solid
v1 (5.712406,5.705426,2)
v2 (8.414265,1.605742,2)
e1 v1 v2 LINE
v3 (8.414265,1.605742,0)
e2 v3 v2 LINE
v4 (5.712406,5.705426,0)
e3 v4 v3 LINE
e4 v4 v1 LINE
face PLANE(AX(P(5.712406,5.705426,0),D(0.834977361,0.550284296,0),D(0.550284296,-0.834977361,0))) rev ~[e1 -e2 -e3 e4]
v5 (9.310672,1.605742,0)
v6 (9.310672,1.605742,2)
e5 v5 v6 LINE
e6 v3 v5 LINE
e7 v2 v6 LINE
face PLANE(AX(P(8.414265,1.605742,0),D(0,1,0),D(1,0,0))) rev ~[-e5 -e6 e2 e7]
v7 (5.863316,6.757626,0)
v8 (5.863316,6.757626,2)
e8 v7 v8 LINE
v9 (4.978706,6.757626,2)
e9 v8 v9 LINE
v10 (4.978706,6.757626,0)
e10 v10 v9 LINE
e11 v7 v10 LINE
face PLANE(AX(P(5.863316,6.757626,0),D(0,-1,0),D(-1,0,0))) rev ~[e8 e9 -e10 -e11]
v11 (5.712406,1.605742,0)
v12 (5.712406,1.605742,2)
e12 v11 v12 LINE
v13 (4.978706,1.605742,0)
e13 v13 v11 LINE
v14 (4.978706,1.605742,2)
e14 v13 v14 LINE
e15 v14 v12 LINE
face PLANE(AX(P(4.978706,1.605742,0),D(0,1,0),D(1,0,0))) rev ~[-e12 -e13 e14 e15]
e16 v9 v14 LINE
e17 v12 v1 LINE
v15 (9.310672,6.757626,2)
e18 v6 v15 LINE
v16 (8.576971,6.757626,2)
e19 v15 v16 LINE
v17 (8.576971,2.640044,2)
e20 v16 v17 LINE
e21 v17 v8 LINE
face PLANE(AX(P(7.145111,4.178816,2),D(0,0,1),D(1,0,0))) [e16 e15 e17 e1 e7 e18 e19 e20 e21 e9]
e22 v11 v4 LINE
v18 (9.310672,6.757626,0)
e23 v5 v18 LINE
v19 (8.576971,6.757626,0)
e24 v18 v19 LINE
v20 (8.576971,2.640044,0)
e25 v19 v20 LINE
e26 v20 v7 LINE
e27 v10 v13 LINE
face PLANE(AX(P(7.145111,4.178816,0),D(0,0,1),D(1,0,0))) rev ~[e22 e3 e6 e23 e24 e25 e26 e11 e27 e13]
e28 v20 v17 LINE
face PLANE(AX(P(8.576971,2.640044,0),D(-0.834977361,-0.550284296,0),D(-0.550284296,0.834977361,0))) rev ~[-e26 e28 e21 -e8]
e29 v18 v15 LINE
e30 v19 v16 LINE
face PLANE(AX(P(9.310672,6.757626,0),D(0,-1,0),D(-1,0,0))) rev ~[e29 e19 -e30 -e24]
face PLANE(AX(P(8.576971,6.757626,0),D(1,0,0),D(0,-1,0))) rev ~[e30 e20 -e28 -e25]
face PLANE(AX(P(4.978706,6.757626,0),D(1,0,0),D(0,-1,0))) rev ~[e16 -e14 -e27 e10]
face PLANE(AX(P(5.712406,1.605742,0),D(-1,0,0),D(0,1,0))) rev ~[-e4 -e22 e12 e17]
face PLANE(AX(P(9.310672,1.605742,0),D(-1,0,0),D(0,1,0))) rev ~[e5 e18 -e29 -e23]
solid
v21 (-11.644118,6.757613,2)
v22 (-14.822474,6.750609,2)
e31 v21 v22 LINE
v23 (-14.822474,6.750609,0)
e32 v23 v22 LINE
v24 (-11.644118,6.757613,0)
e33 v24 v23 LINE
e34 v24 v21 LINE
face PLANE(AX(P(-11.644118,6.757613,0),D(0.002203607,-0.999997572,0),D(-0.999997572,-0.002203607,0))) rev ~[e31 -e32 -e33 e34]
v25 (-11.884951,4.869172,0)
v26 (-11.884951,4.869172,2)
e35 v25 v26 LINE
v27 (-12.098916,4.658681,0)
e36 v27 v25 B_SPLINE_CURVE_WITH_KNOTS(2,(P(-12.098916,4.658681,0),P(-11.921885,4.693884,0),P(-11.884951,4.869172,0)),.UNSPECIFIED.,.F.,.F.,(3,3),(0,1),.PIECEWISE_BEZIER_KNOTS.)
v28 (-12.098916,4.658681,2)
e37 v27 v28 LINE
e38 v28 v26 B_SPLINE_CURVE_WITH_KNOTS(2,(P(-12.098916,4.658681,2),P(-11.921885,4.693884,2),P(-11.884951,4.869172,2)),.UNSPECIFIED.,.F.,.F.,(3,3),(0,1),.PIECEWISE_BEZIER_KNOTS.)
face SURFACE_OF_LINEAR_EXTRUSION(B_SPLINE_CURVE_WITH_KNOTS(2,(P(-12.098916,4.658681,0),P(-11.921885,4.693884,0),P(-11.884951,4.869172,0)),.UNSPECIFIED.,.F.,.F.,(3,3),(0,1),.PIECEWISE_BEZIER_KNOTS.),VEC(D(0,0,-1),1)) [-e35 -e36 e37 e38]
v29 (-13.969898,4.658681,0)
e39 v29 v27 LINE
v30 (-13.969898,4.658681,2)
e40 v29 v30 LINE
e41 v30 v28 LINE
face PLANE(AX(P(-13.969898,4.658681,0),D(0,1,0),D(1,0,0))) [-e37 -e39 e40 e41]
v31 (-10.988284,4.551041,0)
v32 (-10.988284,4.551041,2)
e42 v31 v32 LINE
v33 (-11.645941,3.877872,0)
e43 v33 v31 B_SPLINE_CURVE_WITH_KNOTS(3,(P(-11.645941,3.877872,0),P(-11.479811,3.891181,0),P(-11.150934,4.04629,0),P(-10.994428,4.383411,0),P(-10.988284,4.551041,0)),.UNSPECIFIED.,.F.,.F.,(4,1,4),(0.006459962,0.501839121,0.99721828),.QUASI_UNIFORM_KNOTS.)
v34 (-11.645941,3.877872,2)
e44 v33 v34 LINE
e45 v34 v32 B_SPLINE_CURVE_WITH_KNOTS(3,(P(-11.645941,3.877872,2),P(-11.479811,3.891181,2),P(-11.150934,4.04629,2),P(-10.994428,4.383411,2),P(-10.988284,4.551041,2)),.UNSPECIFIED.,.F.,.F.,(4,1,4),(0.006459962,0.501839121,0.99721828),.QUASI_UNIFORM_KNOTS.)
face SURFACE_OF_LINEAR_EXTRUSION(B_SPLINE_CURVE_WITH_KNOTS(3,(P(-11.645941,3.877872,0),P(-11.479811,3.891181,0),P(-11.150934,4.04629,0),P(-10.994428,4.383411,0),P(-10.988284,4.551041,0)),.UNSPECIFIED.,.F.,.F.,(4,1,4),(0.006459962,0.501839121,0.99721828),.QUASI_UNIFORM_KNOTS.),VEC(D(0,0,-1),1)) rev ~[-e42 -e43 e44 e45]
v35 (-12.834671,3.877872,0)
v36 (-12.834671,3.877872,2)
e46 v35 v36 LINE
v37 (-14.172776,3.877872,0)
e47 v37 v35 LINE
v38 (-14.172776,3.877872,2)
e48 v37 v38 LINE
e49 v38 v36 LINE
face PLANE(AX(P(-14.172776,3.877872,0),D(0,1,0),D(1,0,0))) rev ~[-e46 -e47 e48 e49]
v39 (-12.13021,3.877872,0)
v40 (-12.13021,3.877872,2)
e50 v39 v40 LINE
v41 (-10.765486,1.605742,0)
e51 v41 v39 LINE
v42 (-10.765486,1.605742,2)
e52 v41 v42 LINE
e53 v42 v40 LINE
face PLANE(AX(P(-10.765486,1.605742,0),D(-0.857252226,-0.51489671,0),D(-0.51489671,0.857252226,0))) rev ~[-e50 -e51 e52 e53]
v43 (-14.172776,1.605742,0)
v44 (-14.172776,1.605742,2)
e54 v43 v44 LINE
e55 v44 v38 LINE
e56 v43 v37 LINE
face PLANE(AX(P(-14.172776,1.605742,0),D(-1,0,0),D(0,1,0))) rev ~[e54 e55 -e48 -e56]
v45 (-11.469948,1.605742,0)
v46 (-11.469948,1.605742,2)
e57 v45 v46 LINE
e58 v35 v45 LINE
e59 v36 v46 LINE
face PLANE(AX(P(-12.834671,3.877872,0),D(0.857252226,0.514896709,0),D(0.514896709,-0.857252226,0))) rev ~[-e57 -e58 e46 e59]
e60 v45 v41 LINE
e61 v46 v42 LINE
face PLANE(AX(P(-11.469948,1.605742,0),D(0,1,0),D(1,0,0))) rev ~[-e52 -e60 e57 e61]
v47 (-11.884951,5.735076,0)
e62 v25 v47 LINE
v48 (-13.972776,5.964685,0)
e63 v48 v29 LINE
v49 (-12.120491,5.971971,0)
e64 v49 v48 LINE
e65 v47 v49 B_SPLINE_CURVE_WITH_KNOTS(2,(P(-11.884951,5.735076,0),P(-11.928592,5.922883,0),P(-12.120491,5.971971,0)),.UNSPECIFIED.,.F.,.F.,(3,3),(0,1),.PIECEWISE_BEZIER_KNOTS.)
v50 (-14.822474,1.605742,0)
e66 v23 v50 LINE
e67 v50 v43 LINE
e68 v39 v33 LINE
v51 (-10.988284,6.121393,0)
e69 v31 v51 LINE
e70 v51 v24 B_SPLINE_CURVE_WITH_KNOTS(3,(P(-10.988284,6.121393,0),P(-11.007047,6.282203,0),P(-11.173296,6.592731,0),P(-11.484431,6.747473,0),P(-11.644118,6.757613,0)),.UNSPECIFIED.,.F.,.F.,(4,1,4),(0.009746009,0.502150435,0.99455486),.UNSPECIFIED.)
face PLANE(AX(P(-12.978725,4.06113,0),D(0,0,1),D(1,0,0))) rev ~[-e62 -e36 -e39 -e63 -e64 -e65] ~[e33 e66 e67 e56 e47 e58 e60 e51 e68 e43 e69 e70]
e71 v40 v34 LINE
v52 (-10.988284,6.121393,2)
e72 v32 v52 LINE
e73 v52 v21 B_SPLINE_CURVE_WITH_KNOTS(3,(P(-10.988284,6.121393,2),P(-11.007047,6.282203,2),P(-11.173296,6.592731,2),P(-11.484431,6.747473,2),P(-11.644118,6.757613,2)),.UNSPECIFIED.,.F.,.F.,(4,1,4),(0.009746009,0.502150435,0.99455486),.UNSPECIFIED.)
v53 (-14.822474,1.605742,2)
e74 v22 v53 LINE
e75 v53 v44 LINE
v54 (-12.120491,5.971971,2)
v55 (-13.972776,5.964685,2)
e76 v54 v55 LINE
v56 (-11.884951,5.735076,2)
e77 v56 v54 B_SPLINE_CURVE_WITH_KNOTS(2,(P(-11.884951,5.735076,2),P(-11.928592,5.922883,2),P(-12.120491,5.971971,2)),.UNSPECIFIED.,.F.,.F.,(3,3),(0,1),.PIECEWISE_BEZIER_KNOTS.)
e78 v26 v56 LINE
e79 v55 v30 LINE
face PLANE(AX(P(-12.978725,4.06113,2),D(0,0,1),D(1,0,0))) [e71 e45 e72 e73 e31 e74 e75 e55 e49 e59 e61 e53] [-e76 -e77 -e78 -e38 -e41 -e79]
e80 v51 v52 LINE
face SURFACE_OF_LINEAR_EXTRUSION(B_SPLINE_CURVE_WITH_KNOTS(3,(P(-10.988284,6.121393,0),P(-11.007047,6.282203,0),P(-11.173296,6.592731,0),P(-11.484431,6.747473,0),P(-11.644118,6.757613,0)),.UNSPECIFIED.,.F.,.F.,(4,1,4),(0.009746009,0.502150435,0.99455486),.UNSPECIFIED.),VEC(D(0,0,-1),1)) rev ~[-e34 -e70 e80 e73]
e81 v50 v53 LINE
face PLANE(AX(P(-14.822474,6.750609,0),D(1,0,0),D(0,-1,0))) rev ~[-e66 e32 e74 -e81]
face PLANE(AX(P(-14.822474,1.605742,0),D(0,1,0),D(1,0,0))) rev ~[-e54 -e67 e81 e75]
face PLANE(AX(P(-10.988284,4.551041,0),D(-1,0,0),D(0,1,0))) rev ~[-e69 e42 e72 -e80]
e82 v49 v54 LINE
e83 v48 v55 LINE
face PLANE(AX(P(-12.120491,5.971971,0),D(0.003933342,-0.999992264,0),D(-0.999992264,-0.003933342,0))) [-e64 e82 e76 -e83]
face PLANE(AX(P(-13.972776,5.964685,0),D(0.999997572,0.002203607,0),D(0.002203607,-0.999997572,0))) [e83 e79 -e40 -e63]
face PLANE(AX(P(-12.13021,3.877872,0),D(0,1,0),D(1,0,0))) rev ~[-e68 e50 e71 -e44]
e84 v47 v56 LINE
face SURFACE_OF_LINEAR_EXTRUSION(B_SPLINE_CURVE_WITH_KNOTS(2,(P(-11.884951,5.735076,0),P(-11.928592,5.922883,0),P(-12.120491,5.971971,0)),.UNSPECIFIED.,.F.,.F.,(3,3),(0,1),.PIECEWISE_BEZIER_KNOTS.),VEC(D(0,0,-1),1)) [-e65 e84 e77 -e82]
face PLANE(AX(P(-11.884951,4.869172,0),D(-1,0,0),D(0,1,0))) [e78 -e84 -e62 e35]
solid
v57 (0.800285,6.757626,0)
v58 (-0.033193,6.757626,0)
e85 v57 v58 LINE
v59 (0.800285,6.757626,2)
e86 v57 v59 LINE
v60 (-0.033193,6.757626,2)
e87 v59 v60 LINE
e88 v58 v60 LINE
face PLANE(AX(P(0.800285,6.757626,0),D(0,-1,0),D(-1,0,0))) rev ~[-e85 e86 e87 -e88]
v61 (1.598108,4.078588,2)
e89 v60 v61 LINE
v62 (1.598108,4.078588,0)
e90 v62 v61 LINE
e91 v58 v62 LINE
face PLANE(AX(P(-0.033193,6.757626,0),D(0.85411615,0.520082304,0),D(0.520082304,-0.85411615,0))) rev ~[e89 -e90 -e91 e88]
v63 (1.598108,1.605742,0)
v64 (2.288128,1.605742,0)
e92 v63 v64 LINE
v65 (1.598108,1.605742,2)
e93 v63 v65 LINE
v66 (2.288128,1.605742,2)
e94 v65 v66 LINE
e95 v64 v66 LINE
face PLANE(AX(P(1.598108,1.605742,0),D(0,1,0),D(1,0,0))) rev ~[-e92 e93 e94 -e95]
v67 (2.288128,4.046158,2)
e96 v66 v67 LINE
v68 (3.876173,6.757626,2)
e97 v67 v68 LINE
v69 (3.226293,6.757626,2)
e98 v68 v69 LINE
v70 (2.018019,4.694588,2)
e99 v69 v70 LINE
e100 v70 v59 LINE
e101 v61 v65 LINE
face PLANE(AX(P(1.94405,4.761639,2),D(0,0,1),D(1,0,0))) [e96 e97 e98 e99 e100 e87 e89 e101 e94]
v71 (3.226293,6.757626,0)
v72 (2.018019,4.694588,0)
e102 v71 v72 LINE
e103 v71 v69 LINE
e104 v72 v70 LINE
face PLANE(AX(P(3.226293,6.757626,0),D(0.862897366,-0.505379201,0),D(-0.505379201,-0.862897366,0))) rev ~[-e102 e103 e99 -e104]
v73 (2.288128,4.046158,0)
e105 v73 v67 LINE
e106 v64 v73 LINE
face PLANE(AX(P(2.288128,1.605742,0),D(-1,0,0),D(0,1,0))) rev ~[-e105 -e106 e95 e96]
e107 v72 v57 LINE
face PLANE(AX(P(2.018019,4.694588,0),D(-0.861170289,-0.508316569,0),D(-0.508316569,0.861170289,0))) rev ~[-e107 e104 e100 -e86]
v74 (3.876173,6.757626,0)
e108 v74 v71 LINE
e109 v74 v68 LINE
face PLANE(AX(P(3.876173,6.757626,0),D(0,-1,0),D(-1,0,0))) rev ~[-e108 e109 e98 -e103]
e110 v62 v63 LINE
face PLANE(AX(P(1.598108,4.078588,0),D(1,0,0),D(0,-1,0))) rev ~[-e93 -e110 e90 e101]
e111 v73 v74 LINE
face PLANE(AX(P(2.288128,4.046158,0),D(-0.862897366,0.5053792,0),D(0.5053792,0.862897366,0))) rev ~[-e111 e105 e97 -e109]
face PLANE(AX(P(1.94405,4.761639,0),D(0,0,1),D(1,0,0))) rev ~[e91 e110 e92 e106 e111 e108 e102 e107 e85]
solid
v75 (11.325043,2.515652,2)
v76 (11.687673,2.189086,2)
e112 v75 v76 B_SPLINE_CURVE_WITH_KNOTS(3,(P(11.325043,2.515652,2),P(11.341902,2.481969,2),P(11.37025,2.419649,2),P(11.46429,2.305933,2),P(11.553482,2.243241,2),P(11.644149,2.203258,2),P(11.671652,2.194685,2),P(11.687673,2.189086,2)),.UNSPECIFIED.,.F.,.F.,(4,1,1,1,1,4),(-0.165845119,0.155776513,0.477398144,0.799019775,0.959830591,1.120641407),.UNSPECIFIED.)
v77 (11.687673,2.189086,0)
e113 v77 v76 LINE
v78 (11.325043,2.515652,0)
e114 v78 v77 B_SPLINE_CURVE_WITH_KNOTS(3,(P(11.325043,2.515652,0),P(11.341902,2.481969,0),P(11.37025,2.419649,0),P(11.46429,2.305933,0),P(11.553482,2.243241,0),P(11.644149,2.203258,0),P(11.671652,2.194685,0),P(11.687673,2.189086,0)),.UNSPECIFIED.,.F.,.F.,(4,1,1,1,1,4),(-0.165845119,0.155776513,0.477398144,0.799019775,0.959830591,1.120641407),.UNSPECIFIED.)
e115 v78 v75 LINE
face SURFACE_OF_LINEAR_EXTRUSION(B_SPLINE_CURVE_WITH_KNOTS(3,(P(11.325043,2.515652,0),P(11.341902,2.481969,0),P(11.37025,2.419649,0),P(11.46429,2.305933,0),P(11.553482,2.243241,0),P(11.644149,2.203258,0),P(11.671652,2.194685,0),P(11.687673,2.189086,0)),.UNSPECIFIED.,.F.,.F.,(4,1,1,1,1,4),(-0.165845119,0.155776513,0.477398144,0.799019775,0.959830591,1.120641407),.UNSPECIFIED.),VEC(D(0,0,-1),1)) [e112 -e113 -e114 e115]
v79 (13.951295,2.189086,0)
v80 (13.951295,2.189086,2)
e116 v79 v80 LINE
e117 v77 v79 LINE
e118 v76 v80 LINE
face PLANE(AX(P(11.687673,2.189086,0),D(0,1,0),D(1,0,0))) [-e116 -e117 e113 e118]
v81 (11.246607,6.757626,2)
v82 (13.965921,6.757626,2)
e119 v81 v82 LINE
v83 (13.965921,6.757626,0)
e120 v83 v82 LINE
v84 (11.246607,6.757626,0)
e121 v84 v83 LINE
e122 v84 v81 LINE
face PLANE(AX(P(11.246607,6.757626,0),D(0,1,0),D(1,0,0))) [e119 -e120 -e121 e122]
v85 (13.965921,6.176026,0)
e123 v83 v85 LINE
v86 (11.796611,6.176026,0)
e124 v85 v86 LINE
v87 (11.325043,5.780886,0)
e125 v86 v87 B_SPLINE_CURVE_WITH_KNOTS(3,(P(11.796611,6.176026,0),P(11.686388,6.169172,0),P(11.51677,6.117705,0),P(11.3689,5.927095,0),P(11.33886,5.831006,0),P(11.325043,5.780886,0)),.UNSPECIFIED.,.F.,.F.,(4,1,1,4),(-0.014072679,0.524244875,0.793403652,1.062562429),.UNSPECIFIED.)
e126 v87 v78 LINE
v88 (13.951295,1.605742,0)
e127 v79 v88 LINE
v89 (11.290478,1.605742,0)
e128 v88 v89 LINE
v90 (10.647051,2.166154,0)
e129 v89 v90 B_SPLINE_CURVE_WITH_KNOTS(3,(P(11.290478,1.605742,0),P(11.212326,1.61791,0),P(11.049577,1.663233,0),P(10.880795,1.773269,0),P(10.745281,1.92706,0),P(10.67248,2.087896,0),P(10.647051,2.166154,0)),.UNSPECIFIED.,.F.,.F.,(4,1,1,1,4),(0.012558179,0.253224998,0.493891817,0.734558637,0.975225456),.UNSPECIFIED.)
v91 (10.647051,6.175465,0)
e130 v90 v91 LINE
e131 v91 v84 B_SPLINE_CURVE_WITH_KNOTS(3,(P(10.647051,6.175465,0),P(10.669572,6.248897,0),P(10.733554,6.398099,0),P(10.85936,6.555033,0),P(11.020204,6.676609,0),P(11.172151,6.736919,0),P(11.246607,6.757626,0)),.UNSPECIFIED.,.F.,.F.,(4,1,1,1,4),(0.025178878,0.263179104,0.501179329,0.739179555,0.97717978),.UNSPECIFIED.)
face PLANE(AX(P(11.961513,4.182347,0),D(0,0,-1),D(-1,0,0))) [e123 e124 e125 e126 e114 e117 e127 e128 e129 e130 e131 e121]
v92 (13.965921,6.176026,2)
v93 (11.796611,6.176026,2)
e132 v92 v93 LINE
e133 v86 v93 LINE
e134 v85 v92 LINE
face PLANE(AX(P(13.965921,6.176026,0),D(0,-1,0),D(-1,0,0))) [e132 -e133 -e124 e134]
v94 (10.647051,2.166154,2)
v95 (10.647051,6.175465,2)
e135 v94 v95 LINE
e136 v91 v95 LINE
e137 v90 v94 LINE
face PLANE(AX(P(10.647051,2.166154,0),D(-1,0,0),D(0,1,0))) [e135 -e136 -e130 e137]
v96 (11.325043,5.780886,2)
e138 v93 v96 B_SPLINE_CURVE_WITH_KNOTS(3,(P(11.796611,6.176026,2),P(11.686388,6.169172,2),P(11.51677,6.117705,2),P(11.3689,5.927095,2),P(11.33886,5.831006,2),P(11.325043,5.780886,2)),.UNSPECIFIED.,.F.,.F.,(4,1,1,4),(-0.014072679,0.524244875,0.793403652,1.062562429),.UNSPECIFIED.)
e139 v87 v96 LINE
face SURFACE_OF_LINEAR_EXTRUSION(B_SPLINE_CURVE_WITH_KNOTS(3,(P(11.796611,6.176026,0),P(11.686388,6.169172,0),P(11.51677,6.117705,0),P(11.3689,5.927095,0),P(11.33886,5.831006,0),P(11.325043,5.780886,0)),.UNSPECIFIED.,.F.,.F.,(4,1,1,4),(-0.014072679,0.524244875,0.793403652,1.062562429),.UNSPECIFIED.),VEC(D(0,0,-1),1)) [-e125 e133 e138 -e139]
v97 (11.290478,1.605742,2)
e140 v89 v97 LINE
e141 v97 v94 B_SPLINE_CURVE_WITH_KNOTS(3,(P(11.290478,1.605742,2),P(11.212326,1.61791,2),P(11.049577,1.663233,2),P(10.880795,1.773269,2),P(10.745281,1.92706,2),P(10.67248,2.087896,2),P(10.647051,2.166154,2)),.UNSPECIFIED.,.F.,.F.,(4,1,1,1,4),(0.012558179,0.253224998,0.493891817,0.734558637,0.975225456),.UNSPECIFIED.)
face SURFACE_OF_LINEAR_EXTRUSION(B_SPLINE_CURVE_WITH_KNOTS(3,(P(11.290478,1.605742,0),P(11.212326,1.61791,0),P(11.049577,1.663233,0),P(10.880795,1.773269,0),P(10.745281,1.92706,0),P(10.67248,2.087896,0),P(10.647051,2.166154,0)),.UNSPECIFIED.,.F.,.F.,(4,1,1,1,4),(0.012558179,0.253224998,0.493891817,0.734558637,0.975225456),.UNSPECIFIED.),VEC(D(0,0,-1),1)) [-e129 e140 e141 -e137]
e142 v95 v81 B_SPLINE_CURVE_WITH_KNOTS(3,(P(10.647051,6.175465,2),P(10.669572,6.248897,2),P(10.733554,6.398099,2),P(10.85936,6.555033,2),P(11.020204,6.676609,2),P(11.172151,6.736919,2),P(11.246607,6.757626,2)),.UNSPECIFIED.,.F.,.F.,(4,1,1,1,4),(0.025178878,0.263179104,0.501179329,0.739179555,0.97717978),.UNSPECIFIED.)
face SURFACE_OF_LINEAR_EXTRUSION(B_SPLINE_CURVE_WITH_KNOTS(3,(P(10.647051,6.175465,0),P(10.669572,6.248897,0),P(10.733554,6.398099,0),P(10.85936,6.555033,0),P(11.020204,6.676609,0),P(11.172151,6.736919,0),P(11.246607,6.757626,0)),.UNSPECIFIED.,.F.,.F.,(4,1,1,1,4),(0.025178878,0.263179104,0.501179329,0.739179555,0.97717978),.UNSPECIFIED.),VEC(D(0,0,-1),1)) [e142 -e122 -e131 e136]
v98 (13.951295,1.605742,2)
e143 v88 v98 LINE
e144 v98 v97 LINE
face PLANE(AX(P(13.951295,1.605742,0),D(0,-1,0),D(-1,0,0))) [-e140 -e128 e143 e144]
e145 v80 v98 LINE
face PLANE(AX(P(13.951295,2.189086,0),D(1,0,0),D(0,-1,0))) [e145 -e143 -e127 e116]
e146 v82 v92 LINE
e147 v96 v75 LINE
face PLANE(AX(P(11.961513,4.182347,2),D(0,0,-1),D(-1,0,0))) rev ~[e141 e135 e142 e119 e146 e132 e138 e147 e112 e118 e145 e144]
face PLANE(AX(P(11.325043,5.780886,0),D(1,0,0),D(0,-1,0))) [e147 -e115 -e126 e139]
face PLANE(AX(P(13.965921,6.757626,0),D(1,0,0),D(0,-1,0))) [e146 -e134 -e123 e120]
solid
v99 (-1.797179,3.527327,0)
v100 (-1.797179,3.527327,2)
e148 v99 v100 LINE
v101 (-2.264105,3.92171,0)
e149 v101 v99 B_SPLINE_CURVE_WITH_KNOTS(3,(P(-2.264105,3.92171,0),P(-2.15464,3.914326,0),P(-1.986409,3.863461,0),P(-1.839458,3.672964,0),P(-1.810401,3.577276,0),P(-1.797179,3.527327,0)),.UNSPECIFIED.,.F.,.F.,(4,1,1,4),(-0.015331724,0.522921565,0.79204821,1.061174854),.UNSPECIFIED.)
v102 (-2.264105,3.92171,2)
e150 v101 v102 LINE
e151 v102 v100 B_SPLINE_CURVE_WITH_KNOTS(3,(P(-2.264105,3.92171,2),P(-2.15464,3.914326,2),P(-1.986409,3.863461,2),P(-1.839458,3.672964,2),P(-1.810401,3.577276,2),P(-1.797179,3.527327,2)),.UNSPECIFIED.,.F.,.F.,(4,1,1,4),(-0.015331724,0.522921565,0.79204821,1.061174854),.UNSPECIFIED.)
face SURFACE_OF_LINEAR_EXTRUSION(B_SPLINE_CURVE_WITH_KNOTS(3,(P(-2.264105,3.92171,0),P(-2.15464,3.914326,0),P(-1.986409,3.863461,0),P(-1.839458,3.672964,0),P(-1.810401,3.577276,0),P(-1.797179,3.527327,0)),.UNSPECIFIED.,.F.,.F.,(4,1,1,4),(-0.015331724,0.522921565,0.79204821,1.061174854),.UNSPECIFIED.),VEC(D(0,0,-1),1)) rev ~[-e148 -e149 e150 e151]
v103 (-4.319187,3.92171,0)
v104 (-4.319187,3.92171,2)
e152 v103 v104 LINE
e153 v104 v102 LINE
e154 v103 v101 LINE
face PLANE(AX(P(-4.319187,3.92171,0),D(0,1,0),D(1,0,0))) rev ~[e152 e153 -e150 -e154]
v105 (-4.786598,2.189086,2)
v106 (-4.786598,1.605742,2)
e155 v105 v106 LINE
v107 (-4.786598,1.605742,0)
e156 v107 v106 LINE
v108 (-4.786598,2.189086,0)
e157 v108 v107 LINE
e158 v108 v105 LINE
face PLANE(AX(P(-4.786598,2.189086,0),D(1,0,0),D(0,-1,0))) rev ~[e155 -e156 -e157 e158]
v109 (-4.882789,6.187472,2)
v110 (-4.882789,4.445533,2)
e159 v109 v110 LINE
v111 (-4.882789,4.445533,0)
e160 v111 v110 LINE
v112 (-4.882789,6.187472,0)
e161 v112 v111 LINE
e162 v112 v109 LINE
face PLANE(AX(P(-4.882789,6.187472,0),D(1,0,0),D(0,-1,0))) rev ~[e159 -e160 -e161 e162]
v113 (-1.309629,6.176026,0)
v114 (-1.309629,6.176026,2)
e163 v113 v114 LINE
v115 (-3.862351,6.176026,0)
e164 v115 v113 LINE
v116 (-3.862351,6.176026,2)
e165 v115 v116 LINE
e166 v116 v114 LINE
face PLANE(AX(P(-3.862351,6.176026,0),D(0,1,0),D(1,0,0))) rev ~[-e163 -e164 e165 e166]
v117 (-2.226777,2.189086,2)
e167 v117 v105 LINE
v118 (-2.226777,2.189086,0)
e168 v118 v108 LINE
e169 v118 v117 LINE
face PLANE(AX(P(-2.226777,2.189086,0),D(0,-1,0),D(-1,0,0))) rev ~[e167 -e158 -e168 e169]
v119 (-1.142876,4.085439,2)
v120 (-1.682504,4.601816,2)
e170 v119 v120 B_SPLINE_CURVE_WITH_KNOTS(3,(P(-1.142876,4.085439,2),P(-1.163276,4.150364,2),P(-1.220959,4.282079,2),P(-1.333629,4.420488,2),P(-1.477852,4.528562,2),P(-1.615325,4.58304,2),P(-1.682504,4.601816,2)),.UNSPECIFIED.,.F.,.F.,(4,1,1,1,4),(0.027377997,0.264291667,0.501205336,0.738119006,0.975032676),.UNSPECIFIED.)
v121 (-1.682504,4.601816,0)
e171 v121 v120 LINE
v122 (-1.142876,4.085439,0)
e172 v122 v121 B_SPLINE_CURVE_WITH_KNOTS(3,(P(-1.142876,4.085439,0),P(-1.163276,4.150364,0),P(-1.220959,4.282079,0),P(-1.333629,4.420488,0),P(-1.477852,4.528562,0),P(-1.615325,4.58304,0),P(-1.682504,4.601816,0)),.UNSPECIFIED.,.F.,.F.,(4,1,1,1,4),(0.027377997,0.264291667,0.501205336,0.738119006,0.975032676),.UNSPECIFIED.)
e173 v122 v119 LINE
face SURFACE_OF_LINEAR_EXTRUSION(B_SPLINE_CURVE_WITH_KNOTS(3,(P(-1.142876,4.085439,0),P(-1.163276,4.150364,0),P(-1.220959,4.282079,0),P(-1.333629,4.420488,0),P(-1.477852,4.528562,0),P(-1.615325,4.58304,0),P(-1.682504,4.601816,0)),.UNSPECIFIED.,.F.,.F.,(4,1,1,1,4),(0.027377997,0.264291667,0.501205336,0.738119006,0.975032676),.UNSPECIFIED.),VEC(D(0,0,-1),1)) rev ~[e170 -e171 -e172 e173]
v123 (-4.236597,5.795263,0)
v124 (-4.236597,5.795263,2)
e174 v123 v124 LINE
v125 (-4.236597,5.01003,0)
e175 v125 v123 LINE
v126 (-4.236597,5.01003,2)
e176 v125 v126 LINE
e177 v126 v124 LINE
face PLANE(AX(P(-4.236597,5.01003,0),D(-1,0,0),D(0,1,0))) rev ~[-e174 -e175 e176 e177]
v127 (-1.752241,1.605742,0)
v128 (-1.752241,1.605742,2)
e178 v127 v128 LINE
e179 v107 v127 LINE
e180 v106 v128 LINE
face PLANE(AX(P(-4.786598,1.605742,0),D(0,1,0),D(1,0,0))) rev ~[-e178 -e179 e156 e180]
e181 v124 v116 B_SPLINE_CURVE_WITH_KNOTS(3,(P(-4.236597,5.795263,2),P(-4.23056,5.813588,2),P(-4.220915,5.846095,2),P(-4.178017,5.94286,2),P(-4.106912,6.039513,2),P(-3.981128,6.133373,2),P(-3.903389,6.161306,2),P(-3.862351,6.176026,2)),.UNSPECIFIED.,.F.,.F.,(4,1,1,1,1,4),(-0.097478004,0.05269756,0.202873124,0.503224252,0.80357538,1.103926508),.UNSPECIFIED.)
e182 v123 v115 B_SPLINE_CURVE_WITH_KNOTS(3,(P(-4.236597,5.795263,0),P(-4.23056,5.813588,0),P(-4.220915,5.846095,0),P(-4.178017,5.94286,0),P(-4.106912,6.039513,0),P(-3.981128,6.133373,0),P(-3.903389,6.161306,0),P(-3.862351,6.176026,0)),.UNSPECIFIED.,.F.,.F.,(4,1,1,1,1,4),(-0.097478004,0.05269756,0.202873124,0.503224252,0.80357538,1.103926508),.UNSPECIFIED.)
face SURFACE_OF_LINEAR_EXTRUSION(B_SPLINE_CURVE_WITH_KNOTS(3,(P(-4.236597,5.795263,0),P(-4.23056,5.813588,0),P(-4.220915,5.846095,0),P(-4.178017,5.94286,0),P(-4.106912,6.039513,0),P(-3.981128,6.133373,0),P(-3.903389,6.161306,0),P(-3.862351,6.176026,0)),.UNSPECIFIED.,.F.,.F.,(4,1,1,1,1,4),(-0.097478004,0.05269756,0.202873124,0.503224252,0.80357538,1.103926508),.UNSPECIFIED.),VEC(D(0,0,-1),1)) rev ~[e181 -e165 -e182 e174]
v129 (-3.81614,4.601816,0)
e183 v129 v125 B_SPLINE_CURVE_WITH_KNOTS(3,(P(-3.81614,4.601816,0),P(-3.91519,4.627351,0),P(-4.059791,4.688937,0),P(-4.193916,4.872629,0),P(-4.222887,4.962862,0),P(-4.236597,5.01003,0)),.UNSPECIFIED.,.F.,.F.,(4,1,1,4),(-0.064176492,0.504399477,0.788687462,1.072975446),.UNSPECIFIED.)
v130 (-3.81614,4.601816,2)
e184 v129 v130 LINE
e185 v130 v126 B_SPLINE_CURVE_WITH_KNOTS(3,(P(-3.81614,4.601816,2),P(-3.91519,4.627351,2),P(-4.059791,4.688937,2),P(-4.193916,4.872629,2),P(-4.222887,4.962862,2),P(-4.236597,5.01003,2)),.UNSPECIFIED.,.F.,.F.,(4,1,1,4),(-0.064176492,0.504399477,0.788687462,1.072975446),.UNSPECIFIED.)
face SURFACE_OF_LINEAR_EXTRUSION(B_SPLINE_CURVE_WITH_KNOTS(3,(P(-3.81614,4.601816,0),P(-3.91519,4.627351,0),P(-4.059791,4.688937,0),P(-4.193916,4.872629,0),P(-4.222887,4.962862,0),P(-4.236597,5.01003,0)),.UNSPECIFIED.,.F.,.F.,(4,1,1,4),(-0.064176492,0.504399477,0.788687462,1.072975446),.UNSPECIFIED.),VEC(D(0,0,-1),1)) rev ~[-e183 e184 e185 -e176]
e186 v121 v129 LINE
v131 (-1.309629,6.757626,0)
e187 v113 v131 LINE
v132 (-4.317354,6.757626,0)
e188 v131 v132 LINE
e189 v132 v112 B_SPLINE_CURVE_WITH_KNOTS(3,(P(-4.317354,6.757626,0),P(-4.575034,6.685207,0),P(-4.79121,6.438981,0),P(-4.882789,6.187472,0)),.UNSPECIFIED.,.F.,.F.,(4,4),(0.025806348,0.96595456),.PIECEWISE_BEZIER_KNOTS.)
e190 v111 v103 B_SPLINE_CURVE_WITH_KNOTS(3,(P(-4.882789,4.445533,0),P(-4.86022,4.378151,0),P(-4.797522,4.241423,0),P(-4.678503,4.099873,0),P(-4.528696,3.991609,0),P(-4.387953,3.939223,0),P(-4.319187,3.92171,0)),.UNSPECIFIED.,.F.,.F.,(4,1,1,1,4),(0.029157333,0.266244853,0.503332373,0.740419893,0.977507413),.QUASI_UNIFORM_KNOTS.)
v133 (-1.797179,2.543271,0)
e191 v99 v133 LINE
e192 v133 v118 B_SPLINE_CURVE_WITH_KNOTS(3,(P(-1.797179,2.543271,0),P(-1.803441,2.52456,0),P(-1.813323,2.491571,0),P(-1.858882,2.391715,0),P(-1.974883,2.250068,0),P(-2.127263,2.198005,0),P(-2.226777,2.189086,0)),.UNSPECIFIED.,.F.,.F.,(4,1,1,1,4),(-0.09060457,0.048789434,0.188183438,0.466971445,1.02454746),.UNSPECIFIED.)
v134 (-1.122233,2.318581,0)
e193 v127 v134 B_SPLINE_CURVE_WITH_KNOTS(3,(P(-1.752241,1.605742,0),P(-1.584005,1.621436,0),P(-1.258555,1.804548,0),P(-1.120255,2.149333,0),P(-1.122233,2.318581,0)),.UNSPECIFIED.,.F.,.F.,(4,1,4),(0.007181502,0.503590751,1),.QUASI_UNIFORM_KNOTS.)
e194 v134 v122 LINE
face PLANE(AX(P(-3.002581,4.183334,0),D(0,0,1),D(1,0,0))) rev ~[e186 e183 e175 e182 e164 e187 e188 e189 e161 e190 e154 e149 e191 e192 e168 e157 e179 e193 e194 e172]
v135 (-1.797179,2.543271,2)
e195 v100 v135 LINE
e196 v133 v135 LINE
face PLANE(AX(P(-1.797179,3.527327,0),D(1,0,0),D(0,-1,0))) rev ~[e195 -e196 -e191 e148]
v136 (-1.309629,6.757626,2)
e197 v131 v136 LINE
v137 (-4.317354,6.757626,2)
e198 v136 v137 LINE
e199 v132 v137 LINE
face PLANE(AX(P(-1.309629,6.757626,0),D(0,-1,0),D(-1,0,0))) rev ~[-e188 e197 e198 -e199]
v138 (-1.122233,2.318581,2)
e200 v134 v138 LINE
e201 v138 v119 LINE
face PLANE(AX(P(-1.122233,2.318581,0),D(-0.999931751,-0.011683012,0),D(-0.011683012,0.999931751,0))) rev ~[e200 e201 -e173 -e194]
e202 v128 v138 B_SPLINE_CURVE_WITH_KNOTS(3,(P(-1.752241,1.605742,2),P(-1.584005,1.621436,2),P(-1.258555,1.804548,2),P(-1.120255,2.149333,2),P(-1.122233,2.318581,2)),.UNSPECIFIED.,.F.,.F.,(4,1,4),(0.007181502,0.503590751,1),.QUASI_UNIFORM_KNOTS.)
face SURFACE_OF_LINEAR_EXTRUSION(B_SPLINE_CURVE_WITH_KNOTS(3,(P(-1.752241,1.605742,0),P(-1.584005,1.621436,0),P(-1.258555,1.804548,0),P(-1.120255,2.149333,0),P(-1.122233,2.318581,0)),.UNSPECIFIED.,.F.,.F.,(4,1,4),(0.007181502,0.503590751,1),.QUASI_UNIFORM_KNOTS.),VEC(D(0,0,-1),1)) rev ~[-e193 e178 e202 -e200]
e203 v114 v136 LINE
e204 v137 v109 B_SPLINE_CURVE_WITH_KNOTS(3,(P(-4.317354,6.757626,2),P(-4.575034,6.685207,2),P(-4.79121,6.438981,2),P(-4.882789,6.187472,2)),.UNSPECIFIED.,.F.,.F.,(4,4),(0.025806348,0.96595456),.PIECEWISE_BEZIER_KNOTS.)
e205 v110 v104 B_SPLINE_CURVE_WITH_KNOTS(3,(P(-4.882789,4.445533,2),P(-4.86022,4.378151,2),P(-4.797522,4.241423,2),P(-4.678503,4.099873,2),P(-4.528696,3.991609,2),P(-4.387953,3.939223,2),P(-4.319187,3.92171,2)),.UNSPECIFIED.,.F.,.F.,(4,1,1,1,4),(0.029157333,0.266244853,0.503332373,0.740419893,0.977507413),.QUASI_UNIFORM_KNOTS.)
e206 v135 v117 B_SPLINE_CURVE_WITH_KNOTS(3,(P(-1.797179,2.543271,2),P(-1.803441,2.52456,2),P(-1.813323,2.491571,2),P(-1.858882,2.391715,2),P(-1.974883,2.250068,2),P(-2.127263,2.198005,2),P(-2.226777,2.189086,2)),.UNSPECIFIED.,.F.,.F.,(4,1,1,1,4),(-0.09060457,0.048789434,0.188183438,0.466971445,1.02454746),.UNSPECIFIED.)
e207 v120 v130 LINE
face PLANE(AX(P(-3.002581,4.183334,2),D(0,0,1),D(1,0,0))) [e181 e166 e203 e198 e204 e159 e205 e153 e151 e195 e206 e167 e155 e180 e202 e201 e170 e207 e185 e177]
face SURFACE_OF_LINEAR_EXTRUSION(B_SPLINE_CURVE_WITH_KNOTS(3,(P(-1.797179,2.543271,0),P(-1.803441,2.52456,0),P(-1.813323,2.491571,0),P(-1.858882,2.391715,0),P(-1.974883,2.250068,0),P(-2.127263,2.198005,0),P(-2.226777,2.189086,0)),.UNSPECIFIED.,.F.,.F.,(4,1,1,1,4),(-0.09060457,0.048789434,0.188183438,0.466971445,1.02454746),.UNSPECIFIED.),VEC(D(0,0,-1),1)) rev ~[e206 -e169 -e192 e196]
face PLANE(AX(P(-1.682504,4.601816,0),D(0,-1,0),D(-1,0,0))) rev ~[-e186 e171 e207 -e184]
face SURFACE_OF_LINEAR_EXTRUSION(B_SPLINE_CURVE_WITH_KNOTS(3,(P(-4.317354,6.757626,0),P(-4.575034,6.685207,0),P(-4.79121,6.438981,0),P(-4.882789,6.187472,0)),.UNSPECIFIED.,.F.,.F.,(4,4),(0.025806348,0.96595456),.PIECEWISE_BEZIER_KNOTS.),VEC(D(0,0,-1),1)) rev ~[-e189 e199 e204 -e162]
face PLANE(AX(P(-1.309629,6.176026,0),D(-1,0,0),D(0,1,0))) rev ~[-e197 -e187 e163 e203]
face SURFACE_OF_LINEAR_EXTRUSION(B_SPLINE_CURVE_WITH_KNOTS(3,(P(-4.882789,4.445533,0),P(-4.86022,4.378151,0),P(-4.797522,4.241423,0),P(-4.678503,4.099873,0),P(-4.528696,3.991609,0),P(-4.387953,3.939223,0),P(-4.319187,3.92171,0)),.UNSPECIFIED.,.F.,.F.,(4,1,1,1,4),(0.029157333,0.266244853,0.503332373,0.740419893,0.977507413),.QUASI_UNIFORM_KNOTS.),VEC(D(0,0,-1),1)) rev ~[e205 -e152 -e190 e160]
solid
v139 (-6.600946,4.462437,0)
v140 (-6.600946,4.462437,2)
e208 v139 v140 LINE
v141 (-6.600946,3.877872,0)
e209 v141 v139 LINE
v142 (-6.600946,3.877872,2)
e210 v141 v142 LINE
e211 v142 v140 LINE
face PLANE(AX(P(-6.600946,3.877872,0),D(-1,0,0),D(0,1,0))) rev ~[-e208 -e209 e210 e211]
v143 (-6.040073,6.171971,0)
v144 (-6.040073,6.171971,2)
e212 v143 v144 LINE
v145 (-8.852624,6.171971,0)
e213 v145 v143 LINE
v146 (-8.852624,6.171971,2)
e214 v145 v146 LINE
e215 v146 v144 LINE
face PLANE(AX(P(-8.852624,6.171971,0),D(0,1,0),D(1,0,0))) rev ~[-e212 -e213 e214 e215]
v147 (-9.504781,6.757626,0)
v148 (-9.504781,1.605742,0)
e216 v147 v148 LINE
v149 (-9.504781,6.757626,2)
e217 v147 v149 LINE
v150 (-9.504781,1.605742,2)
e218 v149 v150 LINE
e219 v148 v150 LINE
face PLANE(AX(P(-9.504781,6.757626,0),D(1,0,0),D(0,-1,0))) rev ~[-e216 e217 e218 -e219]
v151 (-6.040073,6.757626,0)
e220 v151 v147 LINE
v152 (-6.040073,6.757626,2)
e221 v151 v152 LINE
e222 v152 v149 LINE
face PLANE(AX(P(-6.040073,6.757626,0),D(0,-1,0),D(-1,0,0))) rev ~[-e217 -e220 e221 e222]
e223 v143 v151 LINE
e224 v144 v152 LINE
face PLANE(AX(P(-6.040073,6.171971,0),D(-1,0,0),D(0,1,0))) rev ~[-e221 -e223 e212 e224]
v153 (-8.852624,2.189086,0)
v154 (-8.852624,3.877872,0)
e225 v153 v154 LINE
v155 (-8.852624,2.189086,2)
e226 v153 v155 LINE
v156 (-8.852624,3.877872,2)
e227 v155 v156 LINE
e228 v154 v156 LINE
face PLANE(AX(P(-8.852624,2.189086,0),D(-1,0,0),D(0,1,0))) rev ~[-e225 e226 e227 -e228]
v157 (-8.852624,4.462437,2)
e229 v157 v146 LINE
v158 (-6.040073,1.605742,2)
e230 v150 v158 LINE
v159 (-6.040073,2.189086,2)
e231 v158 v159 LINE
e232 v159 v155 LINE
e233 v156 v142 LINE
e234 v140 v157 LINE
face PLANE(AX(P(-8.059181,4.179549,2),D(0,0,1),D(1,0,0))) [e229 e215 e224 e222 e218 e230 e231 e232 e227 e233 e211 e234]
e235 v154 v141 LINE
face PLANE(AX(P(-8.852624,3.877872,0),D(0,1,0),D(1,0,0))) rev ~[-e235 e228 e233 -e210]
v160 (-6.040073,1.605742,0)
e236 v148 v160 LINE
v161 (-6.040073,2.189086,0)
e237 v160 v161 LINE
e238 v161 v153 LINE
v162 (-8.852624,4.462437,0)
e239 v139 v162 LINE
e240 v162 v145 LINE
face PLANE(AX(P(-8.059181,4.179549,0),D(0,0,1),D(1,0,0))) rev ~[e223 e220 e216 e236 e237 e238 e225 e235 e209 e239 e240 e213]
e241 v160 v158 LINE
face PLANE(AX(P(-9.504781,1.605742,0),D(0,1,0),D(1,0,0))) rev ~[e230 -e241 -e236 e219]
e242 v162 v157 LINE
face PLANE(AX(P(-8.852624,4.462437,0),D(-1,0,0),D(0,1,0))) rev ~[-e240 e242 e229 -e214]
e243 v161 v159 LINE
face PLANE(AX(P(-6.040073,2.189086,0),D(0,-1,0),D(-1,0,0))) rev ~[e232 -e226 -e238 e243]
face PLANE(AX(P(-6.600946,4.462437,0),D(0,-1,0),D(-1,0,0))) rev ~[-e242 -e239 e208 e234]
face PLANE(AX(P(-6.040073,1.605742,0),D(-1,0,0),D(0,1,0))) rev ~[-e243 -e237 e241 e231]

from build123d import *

# Parameters (mm, degrees)
BOSS_EXTRUDE1_DEPTH   = 2
BOSS_EXTRUDE1_2_DEPTH = 2
BOSS_EXTRUDE1_3_DEPTH = 2
BOSS_EXTRUDE1_4_DEPTH = 2
BOSS_EXTRUDE1_5_DEPTH = 2
BOSS_EXTRUDE1_6_DEPTH = 2


with BuildPart() as part:
    # Sketch39 → Boss-Extrude1 (new body)
    with BuildSketch(Plane.XY):
        with BuildLine():
            Line((-10.988283658, 4.551040787), (-10.988283658, 6.121393355))
            add(Edge.make_bspline(
                [(-10.988283658, 6.121393355), (-11.00704669, 6.282203169), (-11.173296334, 6.592730983), (-11.484431359, 6.74747302), (-11.644117832, 6.757612852)],
                knots=[0.009746009, 0.009746009, 0.009746009, 0.009746009, 0.502150435, 0.99455486, 0.99455486, 0.99455486, 0.99455486], degree=3))
            Line((-11.644117832, 6.757612852), (-14.822474371, 6.750608985))
            Line((-14.822474371, 6.750608985), (-14.822474371, 1.605742473))
            Line((-14.822474371, 1.605742473), (-14.172776349, 1.605742473))
            Line((-14.172776349, 1.605742473), (-14.172776349, 3.877872176))
            Line((-14.172776349, 3.877872176), (-12.834670971, 3.877872176))
            Line((-12.834670971, 3.877872176), (-11.469947647, 1.605742473))
            Line((-11.469947647, 1.605742473), (-10.765486226, 1.605742473))
            Line((-10.765486226, 1.605742473), (-12.130209551, 3.877872176))
            Line((-12.130209551, 3.877872176), (-11.645941212, 3.877872176))
            add(Edge.make_bspline(
                [(-11.645941212, 3.877872176), (-11.479810552, 3.891181232), (-11.150934038, 4.046289879), (-10.994428406, 4.383410561), (-10.988283658, 4.551040787)],
                knots=[0.006459962, 0.006459962, 0.006459962, 0.006459962, 0.501839121, 0.99721828, 0.99721828, 0.99721828, 0.99721828], degree=3))
        make_face()
        with BuildLine():
            add(Edge.make_bspline(
                [(-11.884951007, 5.735076037), (-11.928592054, 5.922883289), (-12.120490935, 5.97197097)],
                knots=[0, 0, 0, 1, 1, 1], degree=2))
            Line((-12.120490935, 5.97197097), (-13.972776349, 5.964685241))
            Line((-13.972776349, 5.964685241), (-13.969898423, 4.658681327))
            Line((-13.969898423, 4.658681327), (-12.098915788, 4.658681327))
            add(Edge.make_bspline(
                [(-12.098915788, 4.658681327), (-11.921884887, 4.693884027), (-11.884951007, 4.869171619)],
                knots=[0, 0, 0, 1, 1, 1], degree=2))
            Line((-11.884951007, 4.869171619), (-11.884951007, 5.735076037))
        make_face(mode=Mode.SUBTRACT)
    extrude(amount=BOSS_EXTRUDE1_DEPTH)


with BuildPart() as body_2:
    # Sketch39 → Boss-Extrude1 2 (new body)
    with BuildSketch(Plane.XY):
        Polygon((-8.852624131, 6.17197097), (-6.04007284, 6.17197097), (-6.04007284, 6.757625765), (-9.50478091, 6.757625765), (-9.50478091, 1.605742473), (-6.04007284, 1.605742473), (-6.04007284, 2.189085691), (-8.852624131, 2.189085691), (-8.852624131, 3.877872176), (-6.600945529, 3.877872176), (-6.600945529, 4.462436919), (-8.852624131, 4.462436919), align=None)
    extrude(amount=BOSS_EXTRUDE1_2_DEPTH)


with BuildPart() as body_3:
    # Sketch39 → Boss-Extrude1 3 (new body)
    with BuildSketch(Plane.XY):
        with BuildLine():
            Line((-4.31918684, 3.921709693), (-2.264105173, 3.921709693))
            add(Edge.make_bspline(
                [(-2.264105173, 3.921709693), (-2.154639921, 3.914325878), (-1.986409154, 3.863461196), (-1.839458379, 3.672963809), (-1.81040129, 3.577276033), (-1.797178545, 3.52732652)],
                knots=[-0.015331724, -0.015331724, -0.015331724, -0.015331724, 0.522921565, 0.79204821, 1.061174854, 1.061174854, 1.061174854, 1.061174854], degree=3))
            Line((-1.797178545, 3.52732652), (-1.797178545, 2.543271203))
            add(Edge.make_bspline(
                [(-1.797178545, 2.543271203), (-1.803440917, 2.524560078), (-1.813323353, 2.491570533), (-1.858881539, 2.391714634), (-1.974882575, 2.250067944), (-2.127263158, 2.198005446), (-2.226776537, 2.189085691)],
                knots=[-0.09060457, -0.09060457, -0.09060457, -0.09060457, 0.048789434, 0.188183438, 0.466971445, 1.02454746, 1.02454746, 1.02454746, 1.02454746], degree=3))
            Line((-2.226776537, 2.189085691), (-4.78659772, 2.189085691))
            Line((-4.78659772, 2.189085691), (-4.78659772, 1.605742473))
            Line((-4.78659772, 1.605742473), (-1.752241274, 1.605742473))
            add(Edge.make_bspline(
                [(-1.752241274, 1.605742473), (-1.584005346, 1.621436496), (-1.258554608, 1.804548205), (-1.120255268, 2.14933294), (-1.122232733, 2.318581265)],
                knots=[0.007181502, 0.007181502, 0.007181502, 0.007181502, 0.503590751, 1, 1, 1, 1], degree=3))
            Line((-1.122232733, 2.318581265), (-1.142876363, 4.085439074))
            add(Edge.make_bspline(
                [(-1.142876363, 4.085439074), (-1.163275986, 4.150364388), (-1.220959146, 4.282078899), (-1.333629162, 4.420488379), (-1.477851905, 4.528562375), (-1.615325329, 4.583040112), (-1.682504061, 4.601815782)],
                knots=[0.027377997, 0.027377997, 0.027377997, 0.027377997, 0.264291667, 0.501205336, 0.738119006, 0.975032676, 0.975032676, 0.975032676, 0.975032676], degree=3))
            Line((-1.682504061, 4.601815782), (-3.816139694, 4.601815782))
            add(Edge.make_bspline(
                [(-3.816139694, 4.601815782), (-3.915190479, 4.627351322), (-4.059790564, 4.688936865), (-4.193915815, 4.872629493), (-4.222887106, 4.962861869), (-4.236596871, 5.010030129)],
                knots=[-0.064176492, -0.064176492, -0.064176492, -0.064176492, 0.504399477, 0.788687462, 1.072975446, 1.072975446, 1.072975446, 1.072975446], degree=3))
            Line((-4.236596871, 5.010030129), (-4.236596871, 5.795262738))
            add(Edge.make_bspline(
                [(-4.236596871, 5.795262738), (-4.230560454, 5.813588277), (-4.220915246, 5.846095474), (-4.178017391, 5.942859759), (-4.106912088, 6.039513012), (-3.98112845, 6.133372682), (-3.903388535, 6.161305772), (-3.86235149, 6.176026335)],
                knots=[-0.097478004, -0.097478004, -0.097478004, -0.097478004, 0.05269756, 0.202873124, 0.503224252, 0.80357538, 1.103926508, 1.103926508, 1.103926508, 1.103926508], degree=3))
            Line((-3.86235149, 6.176026335), (-1.309628903, 6.176026335))
            Line((-1.309628903, 6.176026335), (-1.309628903, 6.757625765))
            Line((-1.309628903, 6.757625765), (-4.317354317, 6.757625765))
            add(Edge.make_bspline(
                [(-4.317354317, 6.757625765), (-4.575034459, 6.685206862), (-4.791209886, 6.438981098), (-4.88278942, 6.187472167)],
                knots=[0.025806348, 0.025806348, 0.025806348, 0.025806348, 0.96595456, 0.96595456, 0.96595456, 0.96595456], degree=3))
            Line((-4.88278942, 6.187472167), (-4.88278942, 4.445532593))
            add(Edge.make_bspline(
                [(-4.88278942, 4.445532593), (-4.860219523, 4.37815069), (-4.797521628, 4.241422696), (-4.678503324, 4.09987275), (-4.528695723, 3.991608942), (-4.387952615, 3.939222719), (-4.31918684, 3.921709693)],
                knots=[0.029157333, 0.029157333, 0.029157333, 0.029157333, 0.266244853, 0.503332373, 0.740419893, 0.977507413, 0.977507413, 0.977507413, 0.977507413], degree=3))
        make_face()
    extrude(amount=BOSS_EXTRUDE1_3_DEPTH)


with BuildPart() as body_4:
    # Sketch39 → Boss-Extrude1 4 (new body)
    with BuildSketch(Plane.XY):
        Polygon((3.22629322, 6.757625765), (2.018019143, 4.69458772), (0.80028505, 6.757625765), (-0.033192814, 6.757625765), (1.598107647, 4.078588121), (1.598107647, 1.605742473), (2.288128238, 1.605742473), (2.288128238, 4.046157857), (3.876172816, 6.757625765), align=None)
    extrude(amount=BOSS_EXTRUDE1_4_DEPTH)


with BuildPart() as body_5:
    # Sketch39 → Boss-Extrude1 5 (new body)
    with BuildSketch(Plane.XY):
        Polygon((8.576971429, 6.757625765), (8.576971429, 2.640043558), (5.863316031, 6.757625765), (4.978705551, 6.757625765), (4.978705551, 1.605742473), (5.712405759, 1.605742473), (5.712405759, 5.705426313), (8.414265401, 1.605742473), (9.310671637, 1.605742473), (9.310671637, 6.757625765), align=None)
    extrude(amount=BOSS_EXTRUDE1_5_DEPTH)


with BuildPart() as body_6:
    # Sketch39 → Boss-Extrude1 6 (new body)
    with BuildSketch(Plane.XY):
        with BuildLine():
            Line((11.325043158, 5.780885545), (11.325043158, 2.515652083))
            add(Edge.make_bspline(
                [(11.325043158, 2.515652083), (11.341902197, 2.481968516), (11.370249824, 2.419648775), (11.464290389, 2.30593324), (11.553481619, 2.243240751), (11.644148834, 2.203257654), (11.671651986, 2.194685136), (11.687672586, 2.189085691)],
                knots=[-0.165845119, -0.165845119, -0.165845119, -0.165845119, 0.155776513, 0.477398144, 0.799019775, 0.959830591, 1.120641407, 1.120641407, 1.120641407, 1.120641407], degree=3))
            Line((11.687672586, 2.189085691), (13.951295186, 2.189085691))
            Line((13.951295186, 2.189085691), (13.951295186, 1.605742473))
            Line((13.951295186, 1.605742473), (11.290477562, 1.605742473))
            add(Edge.make_bspline(
                [(11.290477562, 1.605742473), (11.212326423, 1.617910271), (11.049577222, 1.663233251), (10.880794592, 1.773268817), (10.74528073, 1.92705959), (10.672479717, 2.087896295), (10.647050594, 2.16615365)],
                knots=[0.012558179, 0.012558179, 0.012558179, 0.012558179, 0.253224998, 0.493891817, 0.734558637, 0.975225456, 0.975225456, 0.975225456, 0.975225456], degree=3))
            Line((10.647050594, 2.16615365), (10.647050594, 6.175465099))
            add(Edge.make_bspline(
                [(10.647050594, 6.175465099), (10.66957151, 6.248897308), (10.733553746, 6.39809872), (10.859359951, 6.555033149), (11.020204051, 6.676608784), (11.172151253, 6.736918996), (11.246607096, 6.757625765)],
                knots=[0.025178878, 0.025178878, 0.025178878, 0.025178878, 0.263179104, 0.501179329, 0.739179555, 0.97717978, 0.97717978, 0.97717978, 0.97717978], degree=3))
            Line((11.246607096, 6.757625765), (13.965921312, 6.757625765))
            Line((13.965921312, 6.757625765), (13.965921312, 6.176026335))
            Line((13.965921312, 6.176026335), (11.796611462, 6.176026335))
            add(Edge.make_bspline(
                [(11.796611462, 6.176026335), (11.686388353, 6.169172127), (11.51677012, 6.117704632), (11.368900387, 5.92709547), (11.338859704, 5.831005762), (11.325043158, 5.780885545)],
                knots=[-0.014072679, -0.014072679, -0.014072679, -0.014072679, 0.524244875, 0.793403652, 1.062562429, 1.062562429, 1.062562429, 1.062562429], degree=3))
        make_face()
    extrude(amount=BOSS_EXTRUDE1_6_DEPTH)


solid = Compound([part.part, body_2.part, body_3.part, body_4.part, body_5.part, body_6.part])
